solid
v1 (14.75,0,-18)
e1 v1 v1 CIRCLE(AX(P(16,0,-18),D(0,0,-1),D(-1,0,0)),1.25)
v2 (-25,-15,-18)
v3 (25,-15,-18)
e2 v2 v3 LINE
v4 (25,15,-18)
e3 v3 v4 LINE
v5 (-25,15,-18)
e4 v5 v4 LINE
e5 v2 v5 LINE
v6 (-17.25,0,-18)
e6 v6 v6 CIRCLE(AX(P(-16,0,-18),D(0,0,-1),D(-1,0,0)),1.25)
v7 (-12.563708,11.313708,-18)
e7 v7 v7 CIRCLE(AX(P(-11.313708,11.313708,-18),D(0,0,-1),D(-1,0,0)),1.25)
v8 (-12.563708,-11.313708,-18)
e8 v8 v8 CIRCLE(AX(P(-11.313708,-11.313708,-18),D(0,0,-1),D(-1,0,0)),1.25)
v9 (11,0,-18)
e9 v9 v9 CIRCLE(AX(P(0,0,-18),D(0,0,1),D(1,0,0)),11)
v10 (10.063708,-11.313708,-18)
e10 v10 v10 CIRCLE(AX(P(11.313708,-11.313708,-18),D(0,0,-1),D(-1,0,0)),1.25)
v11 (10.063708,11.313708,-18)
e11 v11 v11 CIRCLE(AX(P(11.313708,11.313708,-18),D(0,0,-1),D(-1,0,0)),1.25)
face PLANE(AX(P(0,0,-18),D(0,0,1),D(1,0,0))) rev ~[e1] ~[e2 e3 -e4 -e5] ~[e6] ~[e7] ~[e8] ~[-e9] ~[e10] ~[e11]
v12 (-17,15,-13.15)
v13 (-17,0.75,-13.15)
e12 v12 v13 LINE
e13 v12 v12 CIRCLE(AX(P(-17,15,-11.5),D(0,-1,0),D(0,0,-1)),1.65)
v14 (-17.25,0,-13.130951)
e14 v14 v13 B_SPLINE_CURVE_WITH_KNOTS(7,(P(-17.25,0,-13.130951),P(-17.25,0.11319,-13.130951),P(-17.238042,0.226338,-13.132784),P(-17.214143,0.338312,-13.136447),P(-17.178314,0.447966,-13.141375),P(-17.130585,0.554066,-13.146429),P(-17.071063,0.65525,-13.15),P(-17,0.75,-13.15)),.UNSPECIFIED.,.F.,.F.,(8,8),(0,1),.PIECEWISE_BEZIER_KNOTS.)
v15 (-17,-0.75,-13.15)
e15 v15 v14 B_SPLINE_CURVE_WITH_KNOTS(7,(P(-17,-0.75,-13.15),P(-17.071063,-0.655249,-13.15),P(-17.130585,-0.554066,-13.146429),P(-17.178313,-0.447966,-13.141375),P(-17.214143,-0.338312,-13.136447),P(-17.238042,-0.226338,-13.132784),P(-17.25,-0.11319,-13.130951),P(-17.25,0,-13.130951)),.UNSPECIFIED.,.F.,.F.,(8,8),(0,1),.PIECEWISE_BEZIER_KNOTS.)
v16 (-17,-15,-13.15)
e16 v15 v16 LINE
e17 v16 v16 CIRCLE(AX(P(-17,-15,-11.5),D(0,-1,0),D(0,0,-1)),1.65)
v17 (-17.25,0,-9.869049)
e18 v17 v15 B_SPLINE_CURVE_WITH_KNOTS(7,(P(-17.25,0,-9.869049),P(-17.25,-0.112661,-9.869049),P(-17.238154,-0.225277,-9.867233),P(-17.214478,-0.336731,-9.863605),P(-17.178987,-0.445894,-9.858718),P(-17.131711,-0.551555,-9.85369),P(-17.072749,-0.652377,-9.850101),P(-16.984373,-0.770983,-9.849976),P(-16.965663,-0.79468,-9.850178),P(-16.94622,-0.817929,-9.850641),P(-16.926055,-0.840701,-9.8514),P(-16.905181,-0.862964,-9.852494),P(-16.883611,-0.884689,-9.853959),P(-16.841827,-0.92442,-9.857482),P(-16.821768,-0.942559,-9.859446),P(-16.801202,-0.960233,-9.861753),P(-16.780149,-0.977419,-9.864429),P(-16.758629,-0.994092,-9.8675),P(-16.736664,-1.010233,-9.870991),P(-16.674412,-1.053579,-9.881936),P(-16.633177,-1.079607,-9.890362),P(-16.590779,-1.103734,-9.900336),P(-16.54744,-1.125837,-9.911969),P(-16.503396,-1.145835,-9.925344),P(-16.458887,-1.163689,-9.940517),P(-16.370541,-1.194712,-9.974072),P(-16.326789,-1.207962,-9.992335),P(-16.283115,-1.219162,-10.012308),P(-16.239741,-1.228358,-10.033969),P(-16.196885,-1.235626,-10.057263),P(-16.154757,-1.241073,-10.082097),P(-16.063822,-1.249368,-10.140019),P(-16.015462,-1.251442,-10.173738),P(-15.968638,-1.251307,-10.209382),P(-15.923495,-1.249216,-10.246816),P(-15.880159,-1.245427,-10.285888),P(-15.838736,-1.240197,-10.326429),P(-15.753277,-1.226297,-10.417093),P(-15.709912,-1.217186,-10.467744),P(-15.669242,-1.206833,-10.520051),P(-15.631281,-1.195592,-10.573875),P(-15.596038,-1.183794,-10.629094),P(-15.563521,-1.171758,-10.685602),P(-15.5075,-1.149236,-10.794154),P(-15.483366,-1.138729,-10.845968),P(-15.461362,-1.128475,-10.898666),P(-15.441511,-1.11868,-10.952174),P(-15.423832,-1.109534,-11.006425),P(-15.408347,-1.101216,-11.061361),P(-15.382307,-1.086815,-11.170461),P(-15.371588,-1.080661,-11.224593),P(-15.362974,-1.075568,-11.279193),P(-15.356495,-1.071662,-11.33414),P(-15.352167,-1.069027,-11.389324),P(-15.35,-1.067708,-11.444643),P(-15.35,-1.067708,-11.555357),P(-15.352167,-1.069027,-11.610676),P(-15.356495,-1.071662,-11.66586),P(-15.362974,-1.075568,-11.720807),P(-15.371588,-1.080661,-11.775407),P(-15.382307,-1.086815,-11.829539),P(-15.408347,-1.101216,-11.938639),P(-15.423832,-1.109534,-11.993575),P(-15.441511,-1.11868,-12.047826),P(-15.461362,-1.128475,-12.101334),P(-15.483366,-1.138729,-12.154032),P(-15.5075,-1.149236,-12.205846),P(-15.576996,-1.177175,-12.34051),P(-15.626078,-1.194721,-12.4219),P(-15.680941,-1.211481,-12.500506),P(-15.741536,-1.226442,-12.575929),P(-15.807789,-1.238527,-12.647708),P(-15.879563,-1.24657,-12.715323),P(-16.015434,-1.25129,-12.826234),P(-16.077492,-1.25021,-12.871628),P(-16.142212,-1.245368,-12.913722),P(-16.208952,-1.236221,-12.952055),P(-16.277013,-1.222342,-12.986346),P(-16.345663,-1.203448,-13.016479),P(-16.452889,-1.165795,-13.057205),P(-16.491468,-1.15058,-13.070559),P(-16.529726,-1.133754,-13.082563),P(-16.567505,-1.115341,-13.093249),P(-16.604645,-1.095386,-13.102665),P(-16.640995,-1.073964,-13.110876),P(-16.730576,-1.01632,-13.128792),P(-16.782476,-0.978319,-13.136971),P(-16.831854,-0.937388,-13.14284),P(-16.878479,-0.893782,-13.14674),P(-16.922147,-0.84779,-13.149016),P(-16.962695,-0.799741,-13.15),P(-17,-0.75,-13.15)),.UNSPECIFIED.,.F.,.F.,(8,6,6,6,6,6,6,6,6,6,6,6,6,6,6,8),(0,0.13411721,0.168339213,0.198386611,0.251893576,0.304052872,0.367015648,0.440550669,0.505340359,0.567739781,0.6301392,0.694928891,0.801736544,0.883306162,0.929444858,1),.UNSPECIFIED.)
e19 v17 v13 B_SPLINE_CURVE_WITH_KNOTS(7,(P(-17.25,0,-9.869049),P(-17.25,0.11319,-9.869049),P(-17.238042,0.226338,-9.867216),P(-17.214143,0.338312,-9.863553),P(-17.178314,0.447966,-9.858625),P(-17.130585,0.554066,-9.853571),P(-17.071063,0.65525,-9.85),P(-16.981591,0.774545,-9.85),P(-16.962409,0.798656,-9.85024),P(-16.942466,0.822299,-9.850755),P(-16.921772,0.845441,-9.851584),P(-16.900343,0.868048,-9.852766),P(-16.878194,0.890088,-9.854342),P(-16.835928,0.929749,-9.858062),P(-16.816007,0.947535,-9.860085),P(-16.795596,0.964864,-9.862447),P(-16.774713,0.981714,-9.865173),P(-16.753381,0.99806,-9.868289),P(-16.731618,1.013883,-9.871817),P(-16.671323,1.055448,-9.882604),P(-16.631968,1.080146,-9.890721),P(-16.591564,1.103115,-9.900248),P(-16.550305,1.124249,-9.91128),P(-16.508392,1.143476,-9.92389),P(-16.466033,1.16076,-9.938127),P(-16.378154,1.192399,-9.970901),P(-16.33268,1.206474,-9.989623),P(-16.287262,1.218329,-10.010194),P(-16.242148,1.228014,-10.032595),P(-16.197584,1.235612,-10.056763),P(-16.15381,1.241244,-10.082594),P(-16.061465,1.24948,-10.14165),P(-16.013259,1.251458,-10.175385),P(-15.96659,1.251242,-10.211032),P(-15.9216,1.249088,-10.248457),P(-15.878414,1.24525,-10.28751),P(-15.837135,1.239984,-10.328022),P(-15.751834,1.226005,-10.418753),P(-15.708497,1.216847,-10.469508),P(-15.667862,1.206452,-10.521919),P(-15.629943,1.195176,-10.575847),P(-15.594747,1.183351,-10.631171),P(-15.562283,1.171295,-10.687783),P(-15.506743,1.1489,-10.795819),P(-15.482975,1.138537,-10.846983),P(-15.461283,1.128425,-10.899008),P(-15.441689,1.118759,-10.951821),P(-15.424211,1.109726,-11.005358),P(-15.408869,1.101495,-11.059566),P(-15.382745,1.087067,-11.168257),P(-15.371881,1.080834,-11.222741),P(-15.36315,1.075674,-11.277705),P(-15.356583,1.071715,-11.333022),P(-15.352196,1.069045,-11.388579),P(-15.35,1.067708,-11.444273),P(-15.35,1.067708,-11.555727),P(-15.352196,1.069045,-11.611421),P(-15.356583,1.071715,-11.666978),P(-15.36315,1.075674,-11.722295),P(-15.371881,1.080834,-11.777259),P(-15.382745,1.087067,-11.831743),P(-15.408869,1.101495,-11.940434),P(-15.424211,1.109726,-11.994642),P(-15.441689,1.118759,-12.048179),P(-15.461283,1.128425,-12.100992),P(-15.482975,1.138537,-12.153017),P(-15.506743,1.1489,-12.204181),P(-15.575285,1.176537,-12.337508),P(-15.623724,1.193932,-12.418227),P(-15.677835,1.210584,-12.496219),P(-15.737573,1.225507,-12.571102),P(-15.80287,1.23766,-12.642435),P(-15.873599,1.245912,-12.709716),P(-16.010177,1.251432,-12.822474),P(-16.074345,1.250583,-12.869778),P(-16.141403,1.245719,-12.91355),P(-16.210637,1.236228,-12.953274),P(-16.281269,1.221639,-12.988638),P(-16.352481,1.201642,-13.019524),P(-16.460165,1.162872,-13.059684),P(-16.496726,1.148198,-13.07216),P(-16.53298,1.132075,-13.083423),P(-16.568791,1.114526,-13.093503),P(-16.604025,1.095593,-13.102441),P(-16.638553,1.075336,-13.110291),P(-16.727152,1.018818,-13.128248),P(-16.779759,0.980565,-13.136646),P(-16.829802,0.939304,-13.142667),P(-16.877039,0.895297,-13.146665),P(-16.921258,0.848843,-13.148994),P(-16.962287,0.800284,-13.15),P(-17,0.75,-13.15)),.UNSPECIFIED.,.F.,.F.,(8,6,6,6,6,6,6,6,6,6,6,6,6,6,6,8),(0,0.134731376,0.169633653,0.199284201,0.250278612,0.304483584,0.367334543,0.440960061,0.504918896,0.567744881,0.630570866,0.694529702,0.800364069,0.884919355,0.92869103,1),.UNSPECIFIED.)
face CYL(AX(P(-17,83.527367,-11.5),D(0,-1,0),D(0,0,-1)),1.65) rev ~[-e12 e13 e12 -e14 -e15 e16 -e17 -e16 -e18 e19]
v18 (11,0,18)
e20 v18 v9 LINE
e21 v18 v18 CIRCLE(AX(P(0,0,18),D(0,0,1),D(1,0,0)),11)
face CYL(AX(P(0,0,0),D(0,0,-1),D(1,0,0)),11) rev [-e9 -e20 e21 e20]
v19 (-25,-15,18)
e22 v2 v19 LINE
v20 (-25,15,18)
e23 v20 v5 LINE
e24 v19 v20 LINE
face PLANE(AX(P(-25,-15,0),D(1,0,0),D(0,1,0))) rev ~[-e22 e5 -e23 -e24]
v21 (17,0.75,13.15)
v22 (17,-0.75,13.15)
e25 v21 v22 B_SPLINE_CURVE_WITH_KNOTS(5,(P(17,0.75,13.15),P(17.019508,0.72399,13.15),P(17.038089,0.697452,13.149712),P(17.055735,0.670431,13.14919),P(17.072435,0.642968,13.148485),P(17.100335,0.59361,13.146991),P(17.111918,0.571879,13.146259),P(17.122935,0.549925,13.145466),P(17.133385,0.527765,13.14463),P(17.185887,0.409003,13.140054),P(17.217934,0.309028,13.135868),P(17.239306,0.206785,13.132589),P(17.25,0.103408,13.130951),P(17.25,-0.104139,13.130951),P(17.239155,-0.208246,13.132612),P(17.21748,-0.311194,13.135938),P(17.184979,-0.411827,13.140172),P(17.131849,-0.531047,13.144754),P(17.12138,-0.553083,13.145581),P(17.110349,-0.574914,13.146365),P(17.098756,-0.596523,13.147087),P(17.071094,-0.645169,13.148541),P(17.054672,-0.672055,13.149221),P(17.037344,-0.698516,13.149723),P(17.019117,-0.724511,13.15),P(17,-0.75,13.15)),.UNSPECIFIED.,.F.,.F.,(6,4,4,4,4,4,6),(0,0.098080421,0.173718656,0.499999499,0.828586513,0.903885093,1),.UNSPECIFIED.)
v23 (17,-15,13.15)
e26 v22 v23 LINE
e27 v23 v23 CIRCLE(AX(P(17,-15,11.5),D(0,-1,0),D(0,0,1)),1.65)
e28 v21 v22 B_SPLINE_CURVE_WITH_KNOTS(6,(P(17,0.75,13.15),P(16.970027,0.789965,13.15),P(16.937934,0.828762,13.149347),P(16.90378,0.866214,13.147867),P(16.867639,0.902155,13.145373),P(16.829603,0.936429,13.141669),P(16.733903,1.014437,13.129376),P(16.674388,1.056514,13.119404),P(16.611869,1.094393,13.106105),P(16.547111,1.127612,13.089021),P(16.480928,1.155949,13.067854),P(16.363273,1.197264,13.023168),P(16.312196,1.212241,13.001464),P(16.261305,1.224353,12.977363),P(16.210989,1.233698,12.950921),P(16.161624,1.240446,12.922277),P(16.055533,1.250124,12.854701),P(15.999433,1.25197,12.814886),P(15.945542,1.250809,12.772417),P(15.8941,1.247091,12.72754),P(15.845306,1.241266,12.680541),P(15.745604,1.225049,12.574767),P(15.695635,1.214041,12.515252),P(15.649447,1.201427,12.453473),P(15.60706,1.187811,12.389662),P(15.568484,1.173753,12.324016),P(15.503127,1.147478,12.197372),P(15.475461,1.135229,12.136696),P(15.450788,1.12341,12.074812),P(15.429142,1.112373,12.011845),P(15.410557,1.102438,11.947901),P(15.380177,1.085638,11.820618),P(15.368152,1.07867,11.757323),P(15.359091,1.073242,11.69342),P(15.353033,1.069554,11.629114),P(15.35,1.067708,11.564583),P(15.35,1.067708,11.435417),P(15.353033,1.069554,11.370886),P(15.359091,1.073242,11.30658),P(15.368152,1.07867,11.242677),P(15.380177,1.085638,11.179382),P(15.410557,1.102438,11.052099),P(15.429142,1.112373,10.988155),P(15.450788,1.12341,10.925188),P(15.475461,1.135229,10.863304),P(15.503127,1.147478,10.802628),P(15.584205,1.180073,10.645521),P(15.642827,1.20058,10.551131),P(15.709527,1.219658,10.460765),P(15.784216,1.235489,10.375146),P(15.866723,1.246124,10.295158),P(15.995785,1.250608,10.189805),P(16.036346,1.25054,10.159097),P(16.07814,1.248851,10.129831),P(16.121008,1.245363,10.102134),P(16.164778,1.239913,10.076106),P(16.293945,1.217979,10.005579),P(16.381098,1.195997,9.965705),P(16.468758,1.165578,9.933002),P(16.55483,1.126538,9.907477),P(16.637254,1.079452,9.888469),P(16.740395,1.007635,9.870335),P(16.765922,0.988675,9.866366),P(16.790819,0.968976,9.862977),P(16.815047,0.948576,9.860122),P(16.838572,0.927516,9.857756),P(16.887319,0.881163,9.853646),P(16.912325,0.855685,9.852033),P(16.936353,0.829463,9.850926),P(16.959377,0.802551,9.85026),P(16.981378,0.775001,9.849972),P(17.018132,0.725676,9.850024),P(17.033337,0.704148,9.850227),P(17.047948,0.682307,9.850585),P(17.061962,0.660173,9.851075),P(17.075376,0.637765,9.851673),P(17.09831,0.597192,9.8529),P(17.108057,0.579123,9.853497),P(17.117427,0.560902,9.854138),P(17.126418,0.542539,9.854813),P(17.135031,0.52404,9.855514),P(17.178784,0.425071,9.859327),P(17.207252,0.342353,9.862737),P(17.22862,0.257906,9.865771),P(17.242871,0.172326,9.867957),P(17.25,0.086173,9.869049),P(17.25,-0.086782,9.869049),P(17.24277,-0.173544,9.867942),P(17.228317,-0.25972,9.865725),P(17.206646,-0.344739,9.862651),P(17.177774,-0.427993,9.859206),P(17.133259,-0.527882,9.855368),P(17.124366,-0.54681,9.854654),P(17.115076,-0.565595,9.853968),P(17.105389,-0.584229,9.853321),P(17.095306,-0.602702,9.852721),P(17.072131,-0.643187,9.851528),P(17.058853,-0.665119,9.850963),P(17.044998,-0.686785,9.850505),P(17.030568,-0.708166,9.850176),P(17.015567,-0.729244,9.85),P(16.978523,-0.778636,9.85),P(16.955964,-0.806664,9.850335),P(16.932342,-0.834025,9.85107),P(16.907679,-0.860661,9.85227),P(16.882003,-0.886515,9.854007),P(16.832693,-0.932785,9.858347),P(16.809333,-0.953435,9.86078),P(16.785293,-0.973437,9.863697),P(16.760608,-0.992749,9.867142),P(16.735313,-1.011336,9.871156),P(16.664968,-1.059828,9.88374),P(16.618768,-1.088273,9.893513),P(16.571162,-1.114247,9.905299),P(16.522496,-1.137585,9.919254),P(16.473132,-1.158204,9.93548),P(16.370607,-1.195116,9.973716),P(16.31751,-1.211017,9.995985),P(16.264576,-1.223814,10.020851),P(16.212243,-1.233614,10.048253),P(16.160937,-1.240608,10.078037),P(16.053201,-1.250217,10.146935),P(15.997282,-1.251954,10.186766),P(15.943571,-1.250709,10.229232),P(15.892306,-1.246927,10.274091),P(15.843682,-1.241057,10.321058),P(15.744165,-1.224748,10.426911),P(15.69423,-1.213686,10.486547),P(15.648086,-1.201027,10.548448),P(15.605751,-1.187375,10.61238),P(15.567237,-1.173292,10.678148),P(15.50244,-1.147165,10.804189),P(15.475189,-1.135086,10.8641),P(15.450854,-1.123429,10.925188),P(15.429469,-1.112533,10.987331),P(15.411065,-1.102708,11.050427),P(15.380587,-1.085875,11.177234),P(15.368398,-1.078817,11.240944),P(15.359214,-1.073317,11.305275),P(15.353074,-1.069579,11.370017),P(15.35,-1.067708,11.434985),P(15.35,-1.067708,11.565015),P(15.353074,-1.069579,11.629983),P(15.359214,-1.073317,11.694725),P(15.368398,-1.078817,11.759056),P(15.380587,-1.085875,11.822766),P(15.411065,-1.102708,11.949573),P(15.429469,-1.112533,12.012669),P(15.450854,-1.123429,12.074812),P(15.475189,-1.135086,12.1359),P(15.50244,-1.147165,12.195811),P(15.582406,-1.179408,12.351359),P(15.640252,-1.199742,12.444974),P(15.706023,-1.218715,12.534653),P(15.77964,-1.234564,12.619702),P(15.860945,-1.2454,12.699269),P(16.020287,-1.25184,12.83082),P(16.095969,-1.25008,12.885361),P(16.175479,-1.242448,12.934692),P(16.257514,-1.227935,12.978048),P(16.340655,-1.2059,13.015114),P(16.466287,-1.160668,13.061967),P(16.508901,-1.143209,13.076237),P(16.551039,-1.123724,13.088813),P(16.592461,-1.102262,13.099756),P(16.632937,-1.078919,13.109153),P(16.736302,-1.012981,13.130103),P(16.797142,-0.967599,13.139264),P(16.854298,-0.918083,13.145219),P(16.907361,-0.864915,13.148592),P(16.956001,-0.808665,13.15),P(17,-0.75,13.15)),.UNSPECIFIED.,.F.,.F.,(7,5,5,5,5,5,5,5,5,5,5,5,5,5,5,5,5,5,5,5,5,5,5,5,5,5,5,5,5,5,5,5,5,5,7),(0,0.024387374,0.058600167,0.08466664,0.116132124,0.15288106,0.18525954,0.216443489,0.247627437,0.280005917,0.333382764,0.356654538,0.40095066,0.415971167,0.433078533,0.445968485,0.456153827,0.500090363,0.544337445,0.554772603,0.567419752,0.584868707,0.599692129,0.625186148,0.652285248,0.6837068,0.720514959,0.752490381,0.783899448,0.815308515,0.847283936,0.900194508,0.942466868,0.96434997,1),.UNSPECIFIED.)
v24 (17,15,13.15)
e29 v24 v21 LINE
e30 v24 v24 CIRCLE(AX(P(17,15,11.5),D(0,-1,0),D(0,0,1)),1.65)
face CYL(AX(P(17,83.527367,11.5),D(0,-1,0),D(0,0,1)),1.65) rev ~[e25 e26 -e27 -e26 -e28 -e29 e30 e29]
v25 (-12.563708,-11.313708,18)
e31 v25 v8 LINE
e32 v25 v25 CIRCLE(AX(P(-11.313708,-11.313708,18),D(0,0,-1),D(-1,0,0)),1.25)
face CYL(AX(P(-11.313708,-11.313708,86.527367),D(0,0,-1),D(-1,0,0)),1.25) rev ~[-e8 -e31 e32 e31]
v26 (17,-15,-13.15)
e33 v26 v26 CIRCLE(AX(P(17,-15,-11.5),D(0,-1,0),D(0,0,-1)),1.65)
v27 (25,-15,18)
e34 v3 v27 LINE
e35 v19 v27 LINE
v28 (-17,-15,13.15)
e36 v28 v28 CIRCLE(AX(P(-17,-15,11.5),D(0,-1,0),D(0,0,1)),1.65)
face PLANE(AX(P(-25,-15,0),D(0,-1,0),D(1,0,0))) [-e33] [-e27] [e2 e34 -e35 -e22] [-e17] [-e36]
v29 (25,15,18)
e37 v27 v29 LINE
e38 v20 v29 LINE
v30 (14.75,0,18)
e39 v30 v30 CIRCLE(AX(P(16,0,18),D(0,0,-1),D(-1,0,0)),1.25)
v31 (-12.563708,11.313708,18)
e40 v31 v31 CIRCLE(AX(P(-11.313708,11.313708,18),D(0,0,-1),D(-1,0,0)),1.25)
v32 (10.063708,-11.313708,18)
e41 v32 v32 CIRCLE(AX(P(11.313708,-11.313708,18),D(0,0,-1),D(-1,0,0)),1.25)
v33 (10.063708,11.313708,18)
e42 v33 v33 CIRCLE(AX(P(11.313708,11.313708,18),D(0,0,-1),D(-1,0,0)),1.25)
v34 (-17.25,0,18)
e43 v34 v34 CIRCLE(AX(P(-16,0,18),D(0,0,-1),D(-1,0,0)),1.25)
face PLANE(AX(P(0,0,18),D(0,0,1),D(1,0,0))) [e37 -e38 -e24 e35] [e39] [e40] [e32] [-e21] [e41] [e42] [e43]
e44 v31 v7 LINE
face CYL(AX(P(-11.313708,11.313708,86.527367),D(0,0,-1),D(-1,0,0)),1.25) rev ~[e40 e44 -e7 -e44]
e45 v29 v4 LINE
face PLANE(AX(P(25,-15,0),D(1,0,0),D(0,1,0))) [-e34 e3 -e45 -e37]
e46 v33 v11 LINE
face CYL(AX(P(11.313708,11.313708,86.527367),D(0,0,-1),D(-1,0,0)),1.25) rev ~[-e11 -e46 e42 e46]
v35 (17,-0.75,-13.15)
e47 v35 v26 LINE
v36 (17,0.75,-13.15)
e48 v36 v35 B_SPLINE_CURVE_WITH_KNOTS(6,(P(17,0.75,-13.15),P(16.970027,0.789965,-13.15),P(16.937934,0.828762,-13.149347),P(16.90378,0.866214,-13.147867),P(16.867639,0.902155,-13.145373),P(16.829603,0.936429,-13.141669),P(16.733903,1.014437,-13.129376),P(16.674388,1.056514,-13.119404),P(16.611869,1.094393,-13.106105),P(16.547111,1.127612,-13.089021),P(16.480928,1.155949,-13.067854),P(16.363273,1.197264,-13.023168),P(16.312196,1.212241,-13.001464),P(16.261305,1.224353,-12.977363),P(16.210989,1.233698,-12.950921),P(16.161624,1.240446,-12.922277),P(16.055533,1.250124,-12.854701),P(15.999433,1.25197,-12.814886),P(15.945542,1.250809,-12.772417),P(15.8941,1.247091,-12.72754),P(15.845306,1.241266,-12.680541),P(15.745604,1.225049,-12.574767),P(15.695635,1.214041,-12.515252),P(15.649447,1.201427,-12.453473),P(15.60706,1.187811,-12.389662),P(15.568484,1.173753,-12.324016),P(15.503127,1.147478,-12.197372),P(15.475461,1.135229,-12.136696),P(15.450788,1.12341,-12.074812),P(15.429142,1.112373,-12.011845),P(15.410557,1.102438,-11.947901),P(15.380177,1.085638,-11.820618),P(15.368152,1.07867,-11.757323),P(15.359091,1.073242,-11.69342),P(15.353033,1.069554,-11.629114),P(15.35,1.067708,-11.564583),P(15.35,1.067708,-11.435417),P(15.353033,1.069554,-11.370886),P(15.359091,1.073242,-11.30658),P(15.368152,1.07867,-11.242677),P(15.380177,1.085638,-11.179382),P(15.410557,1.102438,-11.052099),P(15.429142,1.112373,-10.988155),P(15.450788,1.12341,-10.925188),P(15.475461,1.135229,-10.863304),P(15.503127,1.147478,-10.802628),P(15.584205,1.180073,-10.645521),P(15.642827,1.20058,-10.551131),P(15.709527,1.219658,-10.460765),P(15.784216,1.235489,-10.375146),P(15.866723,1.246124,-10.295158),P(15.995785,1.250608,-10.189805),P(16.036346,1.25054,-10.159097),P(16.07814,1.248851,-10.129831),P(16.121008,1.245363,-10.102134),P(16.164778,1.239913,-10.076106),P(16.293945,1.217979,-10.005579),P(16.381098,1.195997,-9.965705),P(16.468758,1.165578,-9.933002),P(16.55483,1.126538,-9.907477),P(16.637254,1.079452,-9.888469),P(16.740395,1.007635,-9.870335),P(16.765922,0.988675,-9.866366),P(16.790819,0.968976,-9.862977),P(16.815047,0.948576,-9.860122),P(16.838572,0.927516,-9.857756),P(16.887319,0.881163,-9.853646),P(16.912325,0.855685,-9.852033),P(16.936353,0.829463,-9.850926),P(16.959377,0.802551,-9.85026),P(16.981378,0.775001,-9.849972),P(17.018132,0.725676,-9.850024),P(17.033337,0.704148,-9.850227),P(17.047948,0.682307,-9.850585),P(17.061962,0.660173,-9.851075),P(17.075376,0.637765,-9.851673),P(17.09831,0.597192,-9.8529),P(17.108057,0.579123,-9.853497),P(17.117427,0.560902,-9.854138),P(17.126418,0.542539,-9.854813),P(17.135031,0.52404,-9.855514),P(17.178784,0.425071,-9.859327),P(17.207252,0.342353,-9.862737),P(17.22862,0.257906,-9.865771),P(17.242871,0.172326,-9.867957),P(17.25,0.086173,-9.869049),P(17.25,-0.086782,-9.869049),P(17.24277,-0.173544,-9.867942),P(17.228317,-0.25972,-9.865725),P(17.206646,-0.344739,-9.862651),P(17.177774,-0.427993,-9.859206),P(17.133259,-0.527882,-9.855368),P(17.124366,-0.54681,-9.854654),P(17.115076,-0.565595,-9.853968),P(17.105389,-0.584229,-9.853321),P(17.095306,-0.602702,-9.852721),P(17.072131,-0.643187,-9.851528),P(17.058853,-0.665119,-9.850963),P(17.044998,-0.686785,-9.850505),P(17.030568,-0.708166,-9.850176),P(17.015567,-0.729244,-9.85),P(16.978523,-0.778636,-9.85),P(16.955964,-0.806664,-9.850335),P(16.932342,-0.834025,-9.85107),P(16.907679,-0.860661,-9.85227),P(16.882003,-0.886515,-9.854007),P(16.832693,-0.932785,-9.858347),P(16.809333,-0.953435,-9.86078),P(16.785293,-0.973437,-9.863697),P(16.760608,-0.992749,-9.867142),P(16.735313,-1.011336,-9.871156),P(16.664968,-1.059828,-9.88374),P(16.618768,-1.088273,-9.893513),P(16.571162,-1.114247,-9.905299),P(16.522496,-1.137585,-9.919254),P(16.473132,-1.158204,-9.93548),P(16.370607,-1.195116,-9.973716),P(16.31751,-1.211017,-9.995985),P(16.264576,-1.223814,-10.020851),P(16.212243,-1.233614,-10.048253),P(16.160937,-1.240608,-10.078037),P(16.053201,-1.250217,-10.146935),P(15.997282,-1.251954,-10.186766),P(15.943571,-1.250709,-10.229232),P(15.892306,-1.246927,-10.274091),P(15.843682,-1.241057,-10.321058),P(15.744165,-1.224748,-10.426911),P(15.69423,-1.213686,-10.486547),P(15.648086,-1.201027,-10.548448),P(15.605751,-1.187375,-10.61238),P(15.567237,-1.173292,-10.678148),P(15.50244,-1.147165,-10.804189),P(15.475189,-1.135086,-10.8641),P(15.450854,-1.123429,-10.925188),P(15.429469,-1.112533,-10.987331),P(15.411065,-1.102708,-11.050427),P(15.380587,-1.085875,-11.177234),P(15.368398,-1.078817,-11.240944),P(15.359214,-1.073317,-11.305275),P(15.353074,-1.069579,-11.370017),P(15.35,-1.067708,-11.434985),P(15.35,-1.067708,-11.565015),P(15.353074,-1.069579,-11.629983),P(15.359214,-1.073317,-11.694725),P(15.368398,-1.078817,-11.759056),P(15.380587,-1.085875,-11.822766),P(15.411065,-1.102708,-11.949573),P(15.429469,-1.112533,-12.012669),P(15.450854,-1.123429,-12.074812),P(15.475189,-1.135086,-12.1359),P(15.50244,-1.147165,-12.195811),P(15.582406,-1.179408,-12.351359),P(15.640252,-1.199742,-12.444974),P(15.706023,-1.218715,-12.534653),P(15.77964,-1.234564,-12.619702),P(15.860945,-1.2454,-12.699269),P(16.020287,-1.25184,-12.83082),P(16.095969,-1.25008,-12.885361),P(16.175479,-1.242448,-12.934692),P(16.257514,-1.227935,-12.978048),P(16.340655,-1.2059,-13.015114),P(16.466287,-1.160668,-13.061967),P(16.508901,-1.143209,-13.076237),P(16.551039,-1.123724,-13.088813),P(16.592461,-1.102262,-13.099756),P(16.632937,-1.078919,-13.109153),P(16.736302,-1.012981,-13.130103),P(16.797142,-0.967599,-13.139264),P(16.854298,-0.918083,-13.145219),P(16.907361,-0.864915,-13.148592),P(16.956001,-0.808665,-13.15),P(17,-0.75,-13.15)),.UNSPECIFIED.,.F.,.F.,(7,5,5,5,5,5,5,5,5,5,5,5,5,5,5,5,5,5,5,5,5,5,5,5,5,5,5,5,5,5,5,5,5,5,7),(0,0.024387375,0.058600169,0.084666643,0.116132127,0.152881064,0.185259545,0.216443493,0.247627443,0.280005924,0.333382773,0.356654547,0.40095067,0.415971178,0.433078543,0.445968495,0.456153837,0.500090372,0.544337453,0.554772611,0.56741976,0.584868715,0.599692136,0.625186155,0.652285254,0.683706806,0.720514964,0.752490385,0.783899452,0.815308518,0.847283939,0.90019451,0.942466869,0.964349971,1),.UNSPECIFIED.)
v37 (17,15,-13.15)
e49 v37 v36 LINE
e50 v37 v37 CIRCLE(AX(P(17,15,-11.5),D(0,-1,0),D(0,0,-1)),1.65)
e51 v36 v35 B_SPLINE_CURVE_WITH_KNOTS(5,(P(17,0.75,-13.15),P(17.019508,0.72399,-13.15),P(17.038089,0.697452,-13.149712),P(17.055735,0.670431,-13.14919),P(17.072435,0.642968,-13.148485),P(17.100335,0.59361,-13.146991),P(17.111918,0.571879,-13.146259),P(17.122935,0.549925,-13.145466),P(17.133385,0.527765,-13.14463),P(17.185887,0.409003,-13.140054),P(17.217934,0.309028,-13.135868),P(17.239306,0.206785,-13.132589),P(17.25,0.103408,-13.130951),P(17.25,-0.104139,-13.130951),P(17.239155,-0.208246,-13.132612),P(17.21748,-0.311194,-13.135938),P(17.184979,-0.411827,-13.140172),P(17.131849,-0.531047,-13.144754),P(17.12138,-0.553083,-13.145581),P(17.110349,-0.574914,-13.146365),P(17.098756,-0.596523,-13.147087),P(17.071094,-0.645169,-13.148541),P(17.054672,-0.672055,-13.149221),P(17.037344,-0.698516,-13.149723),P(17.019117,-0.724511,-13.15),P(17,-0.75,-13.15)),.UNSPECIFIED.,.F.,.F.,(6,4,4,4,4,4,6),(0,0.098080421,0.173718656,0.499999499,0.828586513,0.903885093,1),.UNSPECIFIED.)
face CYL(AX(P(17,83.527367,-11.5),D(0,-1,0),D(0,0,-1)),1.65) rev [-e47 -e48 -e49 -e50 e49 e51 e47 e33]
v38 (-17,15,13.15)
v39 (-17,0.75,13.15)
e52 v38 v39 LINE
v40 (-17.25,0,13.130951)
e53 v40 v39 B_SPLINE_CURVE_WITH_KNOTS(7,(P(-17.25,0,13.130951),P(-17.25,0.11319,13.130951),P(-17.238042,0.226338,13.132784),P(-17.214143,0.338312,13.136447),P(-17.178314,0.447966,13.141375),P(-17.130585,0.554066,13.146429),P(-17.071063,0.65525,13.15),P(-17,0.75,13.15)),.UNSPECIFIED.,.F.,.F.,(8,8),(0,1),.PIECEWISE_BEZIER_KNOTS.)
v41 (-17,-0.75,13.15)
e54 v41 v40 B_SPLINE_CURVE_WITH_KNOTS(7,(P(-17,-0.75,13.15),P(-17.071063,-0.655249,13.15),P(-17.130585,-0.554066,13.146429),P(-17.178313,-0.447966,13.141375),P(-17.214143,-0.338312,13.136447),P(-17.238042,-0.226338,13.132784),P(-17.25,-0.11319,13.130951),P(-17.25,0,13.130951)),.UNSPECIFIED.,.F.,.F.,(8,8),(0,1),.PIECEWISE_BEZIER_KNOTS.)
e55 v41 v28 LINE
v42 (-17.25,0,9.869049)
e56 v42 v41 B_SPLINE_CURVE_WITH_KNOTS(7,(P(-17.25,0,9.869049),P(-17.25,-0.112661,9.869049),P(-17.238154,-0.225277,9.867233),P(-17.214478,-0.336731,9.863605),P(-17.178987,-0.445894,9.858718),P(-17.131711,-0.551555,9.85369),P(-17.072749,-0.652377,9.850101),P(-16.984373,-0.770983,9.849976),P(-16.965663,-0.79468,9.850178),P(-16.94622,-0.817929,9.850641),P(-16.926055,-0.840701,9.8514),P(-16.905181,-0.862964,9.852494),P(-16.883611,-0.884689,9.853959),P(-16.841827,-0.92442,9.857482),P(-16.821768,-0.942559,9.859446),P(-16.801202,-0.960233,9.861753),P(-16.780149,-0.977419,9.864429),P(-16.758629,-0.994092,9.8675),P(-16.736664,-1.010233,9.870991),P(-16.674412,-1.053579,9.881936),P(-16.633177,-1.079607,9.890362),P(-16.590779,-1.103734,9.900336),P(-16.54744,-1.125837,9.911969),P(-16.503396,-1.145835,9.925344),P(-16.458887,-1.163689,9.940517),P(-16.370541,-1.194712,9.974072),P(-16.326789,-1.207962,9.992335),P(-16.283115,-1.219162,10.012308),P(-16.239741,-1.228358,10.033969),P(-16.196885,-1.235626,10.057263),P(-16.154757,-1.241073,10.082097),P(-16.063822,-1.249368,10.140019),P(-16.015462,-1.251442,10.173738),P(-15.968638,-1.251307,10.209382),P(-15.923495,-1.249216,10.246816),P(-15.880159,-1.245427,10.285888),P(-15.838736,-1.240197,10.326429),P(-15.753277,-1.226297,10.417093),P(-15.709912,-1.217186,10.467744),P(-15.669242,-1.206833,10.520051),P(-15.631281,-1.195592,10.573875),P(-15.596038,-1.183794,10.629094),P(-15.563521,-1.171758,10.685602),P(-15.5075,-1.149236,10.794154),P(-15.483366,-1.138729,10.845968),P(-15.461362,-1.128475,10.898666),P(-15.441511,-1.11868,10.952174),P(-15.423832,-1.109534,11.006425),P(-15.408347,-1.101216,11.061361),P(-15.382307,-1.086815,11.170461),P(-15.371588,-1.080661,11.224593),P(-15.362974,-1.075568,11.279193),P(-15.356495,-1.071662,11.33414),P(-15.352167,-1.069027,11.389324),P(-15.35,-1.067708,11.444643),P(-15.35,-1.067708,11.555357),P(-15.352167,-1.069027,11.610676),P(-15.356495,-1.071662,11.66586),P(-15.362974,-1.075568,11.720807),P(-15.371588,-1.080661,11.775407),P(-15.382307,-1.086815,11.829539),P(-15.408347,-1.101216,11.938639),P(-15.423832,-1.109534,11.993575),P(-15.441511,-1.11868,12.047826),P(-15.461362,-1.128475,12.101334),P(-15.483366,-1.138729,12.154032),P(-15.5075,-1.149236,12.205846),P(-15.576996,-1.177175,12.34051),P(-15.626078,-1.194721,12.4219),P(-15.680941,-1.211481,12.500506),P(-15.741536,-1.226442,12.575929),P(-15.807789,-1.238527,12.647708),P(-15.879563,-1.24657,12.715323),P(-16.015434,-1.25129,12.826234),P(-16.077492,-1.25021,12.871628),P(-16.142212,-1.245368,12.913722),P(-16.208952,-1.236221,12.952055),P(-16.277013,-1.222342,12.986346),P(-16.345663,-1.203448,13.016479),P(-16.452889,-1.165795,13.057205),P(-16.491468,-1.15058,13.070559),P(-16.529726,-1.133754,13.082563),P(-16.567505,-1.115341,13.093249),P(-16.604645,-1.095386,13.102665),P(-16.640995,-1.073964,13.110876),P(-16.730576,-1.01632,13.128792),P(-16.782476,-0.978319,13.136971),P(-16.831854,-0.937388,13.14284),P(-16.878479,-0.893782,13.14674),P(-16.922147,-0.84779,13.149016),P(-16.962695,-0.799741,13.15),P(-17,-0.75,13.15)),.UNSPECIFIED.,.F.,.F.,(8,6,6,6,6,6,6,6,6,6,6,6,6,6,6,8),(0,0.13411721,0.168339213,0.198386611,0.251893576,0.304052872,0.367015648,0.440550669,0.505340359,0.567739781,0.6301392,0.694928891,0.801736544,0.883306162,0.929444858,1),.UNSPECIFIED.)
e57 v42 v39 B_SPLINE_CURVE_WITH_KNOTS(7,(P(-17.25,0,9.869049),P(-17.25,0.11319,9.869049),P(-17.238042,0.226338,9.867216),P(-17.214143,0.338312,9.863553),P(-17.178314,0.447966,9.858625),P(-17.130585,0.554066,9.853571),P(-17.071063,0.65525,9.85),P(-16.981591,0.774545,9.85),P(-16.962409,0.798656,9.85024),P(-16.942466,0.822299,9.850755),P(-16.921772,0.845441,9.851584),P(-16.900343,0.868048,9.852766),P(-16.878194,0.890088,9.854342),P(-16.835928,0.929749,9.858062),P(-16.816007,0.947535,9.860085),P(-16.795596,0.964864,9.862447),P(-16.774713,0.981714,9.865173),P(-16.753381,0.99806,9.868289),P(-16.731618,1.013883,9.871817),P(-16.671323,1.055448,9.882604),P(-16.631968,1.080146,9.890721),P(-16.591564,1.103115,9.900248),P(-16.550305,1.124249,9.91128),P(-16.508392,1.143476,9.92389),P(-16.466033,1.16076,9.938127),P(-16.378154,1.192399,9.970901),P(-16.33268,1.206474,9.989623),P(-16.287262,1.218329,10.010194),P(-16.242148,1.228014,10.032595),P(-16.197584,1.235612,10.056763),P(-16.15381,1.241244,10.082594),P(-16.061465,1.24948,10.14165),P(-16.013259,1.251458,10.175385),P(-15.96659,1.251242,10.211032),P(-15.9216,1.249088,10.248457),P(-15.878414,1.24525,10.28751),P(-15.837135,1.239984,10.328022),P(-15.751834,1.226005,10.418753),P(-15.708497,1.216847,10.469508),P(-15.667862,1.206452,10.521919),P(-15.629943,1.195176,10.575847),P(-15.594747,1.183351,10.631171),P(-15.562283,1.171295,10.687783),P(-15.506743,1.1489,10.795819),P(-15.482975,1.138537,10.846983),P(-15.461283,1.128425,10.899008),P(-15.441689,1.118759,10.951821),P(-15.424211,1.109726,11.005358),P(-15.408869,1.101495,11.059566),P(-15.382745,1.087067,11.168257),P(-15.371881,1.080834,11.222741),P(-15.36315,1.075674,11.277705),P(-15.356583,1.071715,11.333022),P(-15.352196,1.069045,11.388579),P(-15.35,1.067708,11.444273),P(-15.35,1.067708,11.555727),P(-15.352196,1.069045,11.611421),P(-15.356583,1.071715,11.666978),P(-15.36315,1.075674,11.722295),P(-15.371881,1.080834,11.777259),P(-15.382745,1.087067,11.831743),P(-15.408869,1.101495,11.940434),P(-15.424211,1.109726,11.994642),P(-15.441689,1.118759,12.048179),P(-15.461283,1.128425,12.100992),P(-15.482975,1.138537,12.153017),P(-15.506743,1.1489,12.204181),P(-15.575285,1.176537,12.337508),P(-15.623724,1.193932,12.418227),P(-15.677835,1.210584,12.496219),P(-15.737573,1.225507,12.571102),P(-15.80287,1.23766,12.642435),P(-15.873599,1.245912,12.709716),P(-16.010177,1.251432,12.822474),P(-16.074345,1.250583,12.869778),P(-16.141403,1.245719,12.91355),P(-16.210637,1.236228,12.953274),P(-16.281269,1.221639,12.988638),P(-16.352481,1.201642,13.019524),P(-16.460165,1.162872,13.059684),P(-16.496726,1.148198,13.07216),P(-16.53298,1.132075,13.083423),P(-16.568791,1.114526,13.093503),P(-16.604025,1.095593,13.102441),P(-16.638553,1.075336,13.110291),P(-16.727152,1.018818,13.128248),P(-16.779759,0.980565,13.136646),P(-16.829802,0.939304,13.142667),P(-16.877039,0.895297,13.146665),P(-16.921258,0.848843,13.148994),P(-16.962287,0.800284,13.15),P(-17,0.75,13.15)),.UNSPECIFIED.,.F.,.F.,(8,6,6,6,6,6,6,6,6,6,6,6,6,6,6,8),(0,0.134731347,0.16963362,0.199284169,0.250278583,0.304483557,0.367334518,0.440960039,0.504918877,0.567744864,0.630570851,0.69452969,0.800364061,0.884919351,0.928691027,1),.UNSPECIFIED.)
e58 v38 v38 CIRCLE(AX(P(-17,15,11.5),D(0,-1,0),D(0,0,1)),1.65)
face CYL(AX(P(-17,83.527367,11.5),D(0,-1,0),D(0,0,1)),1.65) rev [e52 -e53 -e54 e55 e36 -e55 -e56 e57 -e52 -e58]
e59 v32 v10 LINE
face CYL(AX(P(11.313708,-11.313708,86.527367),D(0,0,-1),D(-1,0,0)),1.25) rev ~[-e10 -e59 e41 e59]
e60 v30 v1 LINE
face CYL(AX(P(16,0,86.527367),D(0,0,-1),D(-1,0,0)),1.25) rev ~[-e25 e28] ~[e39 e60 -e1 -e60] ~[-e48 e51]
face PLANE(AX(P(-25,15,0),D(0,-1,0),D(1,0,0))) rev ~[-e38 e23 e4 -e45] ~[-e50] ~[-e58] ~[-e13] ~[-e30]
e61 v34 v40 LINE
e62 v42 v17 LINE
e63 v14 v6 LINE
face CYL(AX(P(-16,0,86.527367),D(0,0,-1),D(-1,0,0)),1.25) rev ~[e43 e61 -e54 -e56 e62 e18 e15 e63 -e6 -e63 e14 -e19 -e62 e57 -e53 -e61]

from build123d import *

# Parameters (mm, degrees)
SKETCH_1_W         = 50
SKETCH_1_H         = 30
SKETCH_1_R         = 11
EXTRUDE_1_DEPTH    = 18
HOLE_WIZARD_M3_1_D = 2.5
HOLE_WIZARD_M4_1_D = 3.3
MIRROR_2_COPY_1_D  = 3.3


with BuildPart() as part:
    # 草图1 → 凸台-拉伸1 (new, symmetric)
    with BuildSketch(Plane.XY):
        Rectangle(SKETCH_1_W, SKETCH_1_H)
        Circle(SKETCH_1_R, mode=Mode.SUBTRACT)
    extrude(amount=EXTRUDE_1_DEPTH, both=True)

    # M3 螺纹孔的螺纹孔钻头1 (through all)
    with Locations(Plane(origin=(-16, 0, 18), x_dir=(1, 0, 0), z_dir=(0, 0, 1))):
        with Locations((0, 0), (4.686291501, 11.313708499), (27.313708499, 11.313708499), (32, 0), (27.313708499, -11.313708499), (4.686291501, -11.313708499)):
            Hole(HOLE_WIZARD_M3_1_D / 2)

    # M4 螺纹孔的螺纹孔钻头1 (through all)
    with Locations(Plane(origin=(-17, 15, -11.5), x_dir=(0, 0, 1), z_dir=(0, 1, 0))):
        with Locations((0, 0)):
            hole_wizard_m4_1 = Hole(HOLE_WIZARD_M4_1_D / 2)

    # 镜向1: M4 螺纹孔的螺纹孔钻头1 across plane
    add(hole_wizard_m4_1.mirror(Plane(origin=(0, 0, 0), x_dir=(0, 0, 1), z_dir=(1, 0, 0))), mode=Mode.SUBTRACT)

    # 镜向2: M4 螺纹孔的螺纹孔钻头1 across plane
    add(hole_wizard_m4_1.mirror(Plane.XY), mode=Mode.SUBTRACT)

    # 镜向2 copy 1 (through all)
    with Locations(Plane(origin=(17, 15, 11.5), x_dir=(0, 0, -1), z_dir=(0, 1, 0))):
        with Locations((0, 0)):
            Hole(MIRROR_2_COPY_1_D / 2)


solid = part.part
